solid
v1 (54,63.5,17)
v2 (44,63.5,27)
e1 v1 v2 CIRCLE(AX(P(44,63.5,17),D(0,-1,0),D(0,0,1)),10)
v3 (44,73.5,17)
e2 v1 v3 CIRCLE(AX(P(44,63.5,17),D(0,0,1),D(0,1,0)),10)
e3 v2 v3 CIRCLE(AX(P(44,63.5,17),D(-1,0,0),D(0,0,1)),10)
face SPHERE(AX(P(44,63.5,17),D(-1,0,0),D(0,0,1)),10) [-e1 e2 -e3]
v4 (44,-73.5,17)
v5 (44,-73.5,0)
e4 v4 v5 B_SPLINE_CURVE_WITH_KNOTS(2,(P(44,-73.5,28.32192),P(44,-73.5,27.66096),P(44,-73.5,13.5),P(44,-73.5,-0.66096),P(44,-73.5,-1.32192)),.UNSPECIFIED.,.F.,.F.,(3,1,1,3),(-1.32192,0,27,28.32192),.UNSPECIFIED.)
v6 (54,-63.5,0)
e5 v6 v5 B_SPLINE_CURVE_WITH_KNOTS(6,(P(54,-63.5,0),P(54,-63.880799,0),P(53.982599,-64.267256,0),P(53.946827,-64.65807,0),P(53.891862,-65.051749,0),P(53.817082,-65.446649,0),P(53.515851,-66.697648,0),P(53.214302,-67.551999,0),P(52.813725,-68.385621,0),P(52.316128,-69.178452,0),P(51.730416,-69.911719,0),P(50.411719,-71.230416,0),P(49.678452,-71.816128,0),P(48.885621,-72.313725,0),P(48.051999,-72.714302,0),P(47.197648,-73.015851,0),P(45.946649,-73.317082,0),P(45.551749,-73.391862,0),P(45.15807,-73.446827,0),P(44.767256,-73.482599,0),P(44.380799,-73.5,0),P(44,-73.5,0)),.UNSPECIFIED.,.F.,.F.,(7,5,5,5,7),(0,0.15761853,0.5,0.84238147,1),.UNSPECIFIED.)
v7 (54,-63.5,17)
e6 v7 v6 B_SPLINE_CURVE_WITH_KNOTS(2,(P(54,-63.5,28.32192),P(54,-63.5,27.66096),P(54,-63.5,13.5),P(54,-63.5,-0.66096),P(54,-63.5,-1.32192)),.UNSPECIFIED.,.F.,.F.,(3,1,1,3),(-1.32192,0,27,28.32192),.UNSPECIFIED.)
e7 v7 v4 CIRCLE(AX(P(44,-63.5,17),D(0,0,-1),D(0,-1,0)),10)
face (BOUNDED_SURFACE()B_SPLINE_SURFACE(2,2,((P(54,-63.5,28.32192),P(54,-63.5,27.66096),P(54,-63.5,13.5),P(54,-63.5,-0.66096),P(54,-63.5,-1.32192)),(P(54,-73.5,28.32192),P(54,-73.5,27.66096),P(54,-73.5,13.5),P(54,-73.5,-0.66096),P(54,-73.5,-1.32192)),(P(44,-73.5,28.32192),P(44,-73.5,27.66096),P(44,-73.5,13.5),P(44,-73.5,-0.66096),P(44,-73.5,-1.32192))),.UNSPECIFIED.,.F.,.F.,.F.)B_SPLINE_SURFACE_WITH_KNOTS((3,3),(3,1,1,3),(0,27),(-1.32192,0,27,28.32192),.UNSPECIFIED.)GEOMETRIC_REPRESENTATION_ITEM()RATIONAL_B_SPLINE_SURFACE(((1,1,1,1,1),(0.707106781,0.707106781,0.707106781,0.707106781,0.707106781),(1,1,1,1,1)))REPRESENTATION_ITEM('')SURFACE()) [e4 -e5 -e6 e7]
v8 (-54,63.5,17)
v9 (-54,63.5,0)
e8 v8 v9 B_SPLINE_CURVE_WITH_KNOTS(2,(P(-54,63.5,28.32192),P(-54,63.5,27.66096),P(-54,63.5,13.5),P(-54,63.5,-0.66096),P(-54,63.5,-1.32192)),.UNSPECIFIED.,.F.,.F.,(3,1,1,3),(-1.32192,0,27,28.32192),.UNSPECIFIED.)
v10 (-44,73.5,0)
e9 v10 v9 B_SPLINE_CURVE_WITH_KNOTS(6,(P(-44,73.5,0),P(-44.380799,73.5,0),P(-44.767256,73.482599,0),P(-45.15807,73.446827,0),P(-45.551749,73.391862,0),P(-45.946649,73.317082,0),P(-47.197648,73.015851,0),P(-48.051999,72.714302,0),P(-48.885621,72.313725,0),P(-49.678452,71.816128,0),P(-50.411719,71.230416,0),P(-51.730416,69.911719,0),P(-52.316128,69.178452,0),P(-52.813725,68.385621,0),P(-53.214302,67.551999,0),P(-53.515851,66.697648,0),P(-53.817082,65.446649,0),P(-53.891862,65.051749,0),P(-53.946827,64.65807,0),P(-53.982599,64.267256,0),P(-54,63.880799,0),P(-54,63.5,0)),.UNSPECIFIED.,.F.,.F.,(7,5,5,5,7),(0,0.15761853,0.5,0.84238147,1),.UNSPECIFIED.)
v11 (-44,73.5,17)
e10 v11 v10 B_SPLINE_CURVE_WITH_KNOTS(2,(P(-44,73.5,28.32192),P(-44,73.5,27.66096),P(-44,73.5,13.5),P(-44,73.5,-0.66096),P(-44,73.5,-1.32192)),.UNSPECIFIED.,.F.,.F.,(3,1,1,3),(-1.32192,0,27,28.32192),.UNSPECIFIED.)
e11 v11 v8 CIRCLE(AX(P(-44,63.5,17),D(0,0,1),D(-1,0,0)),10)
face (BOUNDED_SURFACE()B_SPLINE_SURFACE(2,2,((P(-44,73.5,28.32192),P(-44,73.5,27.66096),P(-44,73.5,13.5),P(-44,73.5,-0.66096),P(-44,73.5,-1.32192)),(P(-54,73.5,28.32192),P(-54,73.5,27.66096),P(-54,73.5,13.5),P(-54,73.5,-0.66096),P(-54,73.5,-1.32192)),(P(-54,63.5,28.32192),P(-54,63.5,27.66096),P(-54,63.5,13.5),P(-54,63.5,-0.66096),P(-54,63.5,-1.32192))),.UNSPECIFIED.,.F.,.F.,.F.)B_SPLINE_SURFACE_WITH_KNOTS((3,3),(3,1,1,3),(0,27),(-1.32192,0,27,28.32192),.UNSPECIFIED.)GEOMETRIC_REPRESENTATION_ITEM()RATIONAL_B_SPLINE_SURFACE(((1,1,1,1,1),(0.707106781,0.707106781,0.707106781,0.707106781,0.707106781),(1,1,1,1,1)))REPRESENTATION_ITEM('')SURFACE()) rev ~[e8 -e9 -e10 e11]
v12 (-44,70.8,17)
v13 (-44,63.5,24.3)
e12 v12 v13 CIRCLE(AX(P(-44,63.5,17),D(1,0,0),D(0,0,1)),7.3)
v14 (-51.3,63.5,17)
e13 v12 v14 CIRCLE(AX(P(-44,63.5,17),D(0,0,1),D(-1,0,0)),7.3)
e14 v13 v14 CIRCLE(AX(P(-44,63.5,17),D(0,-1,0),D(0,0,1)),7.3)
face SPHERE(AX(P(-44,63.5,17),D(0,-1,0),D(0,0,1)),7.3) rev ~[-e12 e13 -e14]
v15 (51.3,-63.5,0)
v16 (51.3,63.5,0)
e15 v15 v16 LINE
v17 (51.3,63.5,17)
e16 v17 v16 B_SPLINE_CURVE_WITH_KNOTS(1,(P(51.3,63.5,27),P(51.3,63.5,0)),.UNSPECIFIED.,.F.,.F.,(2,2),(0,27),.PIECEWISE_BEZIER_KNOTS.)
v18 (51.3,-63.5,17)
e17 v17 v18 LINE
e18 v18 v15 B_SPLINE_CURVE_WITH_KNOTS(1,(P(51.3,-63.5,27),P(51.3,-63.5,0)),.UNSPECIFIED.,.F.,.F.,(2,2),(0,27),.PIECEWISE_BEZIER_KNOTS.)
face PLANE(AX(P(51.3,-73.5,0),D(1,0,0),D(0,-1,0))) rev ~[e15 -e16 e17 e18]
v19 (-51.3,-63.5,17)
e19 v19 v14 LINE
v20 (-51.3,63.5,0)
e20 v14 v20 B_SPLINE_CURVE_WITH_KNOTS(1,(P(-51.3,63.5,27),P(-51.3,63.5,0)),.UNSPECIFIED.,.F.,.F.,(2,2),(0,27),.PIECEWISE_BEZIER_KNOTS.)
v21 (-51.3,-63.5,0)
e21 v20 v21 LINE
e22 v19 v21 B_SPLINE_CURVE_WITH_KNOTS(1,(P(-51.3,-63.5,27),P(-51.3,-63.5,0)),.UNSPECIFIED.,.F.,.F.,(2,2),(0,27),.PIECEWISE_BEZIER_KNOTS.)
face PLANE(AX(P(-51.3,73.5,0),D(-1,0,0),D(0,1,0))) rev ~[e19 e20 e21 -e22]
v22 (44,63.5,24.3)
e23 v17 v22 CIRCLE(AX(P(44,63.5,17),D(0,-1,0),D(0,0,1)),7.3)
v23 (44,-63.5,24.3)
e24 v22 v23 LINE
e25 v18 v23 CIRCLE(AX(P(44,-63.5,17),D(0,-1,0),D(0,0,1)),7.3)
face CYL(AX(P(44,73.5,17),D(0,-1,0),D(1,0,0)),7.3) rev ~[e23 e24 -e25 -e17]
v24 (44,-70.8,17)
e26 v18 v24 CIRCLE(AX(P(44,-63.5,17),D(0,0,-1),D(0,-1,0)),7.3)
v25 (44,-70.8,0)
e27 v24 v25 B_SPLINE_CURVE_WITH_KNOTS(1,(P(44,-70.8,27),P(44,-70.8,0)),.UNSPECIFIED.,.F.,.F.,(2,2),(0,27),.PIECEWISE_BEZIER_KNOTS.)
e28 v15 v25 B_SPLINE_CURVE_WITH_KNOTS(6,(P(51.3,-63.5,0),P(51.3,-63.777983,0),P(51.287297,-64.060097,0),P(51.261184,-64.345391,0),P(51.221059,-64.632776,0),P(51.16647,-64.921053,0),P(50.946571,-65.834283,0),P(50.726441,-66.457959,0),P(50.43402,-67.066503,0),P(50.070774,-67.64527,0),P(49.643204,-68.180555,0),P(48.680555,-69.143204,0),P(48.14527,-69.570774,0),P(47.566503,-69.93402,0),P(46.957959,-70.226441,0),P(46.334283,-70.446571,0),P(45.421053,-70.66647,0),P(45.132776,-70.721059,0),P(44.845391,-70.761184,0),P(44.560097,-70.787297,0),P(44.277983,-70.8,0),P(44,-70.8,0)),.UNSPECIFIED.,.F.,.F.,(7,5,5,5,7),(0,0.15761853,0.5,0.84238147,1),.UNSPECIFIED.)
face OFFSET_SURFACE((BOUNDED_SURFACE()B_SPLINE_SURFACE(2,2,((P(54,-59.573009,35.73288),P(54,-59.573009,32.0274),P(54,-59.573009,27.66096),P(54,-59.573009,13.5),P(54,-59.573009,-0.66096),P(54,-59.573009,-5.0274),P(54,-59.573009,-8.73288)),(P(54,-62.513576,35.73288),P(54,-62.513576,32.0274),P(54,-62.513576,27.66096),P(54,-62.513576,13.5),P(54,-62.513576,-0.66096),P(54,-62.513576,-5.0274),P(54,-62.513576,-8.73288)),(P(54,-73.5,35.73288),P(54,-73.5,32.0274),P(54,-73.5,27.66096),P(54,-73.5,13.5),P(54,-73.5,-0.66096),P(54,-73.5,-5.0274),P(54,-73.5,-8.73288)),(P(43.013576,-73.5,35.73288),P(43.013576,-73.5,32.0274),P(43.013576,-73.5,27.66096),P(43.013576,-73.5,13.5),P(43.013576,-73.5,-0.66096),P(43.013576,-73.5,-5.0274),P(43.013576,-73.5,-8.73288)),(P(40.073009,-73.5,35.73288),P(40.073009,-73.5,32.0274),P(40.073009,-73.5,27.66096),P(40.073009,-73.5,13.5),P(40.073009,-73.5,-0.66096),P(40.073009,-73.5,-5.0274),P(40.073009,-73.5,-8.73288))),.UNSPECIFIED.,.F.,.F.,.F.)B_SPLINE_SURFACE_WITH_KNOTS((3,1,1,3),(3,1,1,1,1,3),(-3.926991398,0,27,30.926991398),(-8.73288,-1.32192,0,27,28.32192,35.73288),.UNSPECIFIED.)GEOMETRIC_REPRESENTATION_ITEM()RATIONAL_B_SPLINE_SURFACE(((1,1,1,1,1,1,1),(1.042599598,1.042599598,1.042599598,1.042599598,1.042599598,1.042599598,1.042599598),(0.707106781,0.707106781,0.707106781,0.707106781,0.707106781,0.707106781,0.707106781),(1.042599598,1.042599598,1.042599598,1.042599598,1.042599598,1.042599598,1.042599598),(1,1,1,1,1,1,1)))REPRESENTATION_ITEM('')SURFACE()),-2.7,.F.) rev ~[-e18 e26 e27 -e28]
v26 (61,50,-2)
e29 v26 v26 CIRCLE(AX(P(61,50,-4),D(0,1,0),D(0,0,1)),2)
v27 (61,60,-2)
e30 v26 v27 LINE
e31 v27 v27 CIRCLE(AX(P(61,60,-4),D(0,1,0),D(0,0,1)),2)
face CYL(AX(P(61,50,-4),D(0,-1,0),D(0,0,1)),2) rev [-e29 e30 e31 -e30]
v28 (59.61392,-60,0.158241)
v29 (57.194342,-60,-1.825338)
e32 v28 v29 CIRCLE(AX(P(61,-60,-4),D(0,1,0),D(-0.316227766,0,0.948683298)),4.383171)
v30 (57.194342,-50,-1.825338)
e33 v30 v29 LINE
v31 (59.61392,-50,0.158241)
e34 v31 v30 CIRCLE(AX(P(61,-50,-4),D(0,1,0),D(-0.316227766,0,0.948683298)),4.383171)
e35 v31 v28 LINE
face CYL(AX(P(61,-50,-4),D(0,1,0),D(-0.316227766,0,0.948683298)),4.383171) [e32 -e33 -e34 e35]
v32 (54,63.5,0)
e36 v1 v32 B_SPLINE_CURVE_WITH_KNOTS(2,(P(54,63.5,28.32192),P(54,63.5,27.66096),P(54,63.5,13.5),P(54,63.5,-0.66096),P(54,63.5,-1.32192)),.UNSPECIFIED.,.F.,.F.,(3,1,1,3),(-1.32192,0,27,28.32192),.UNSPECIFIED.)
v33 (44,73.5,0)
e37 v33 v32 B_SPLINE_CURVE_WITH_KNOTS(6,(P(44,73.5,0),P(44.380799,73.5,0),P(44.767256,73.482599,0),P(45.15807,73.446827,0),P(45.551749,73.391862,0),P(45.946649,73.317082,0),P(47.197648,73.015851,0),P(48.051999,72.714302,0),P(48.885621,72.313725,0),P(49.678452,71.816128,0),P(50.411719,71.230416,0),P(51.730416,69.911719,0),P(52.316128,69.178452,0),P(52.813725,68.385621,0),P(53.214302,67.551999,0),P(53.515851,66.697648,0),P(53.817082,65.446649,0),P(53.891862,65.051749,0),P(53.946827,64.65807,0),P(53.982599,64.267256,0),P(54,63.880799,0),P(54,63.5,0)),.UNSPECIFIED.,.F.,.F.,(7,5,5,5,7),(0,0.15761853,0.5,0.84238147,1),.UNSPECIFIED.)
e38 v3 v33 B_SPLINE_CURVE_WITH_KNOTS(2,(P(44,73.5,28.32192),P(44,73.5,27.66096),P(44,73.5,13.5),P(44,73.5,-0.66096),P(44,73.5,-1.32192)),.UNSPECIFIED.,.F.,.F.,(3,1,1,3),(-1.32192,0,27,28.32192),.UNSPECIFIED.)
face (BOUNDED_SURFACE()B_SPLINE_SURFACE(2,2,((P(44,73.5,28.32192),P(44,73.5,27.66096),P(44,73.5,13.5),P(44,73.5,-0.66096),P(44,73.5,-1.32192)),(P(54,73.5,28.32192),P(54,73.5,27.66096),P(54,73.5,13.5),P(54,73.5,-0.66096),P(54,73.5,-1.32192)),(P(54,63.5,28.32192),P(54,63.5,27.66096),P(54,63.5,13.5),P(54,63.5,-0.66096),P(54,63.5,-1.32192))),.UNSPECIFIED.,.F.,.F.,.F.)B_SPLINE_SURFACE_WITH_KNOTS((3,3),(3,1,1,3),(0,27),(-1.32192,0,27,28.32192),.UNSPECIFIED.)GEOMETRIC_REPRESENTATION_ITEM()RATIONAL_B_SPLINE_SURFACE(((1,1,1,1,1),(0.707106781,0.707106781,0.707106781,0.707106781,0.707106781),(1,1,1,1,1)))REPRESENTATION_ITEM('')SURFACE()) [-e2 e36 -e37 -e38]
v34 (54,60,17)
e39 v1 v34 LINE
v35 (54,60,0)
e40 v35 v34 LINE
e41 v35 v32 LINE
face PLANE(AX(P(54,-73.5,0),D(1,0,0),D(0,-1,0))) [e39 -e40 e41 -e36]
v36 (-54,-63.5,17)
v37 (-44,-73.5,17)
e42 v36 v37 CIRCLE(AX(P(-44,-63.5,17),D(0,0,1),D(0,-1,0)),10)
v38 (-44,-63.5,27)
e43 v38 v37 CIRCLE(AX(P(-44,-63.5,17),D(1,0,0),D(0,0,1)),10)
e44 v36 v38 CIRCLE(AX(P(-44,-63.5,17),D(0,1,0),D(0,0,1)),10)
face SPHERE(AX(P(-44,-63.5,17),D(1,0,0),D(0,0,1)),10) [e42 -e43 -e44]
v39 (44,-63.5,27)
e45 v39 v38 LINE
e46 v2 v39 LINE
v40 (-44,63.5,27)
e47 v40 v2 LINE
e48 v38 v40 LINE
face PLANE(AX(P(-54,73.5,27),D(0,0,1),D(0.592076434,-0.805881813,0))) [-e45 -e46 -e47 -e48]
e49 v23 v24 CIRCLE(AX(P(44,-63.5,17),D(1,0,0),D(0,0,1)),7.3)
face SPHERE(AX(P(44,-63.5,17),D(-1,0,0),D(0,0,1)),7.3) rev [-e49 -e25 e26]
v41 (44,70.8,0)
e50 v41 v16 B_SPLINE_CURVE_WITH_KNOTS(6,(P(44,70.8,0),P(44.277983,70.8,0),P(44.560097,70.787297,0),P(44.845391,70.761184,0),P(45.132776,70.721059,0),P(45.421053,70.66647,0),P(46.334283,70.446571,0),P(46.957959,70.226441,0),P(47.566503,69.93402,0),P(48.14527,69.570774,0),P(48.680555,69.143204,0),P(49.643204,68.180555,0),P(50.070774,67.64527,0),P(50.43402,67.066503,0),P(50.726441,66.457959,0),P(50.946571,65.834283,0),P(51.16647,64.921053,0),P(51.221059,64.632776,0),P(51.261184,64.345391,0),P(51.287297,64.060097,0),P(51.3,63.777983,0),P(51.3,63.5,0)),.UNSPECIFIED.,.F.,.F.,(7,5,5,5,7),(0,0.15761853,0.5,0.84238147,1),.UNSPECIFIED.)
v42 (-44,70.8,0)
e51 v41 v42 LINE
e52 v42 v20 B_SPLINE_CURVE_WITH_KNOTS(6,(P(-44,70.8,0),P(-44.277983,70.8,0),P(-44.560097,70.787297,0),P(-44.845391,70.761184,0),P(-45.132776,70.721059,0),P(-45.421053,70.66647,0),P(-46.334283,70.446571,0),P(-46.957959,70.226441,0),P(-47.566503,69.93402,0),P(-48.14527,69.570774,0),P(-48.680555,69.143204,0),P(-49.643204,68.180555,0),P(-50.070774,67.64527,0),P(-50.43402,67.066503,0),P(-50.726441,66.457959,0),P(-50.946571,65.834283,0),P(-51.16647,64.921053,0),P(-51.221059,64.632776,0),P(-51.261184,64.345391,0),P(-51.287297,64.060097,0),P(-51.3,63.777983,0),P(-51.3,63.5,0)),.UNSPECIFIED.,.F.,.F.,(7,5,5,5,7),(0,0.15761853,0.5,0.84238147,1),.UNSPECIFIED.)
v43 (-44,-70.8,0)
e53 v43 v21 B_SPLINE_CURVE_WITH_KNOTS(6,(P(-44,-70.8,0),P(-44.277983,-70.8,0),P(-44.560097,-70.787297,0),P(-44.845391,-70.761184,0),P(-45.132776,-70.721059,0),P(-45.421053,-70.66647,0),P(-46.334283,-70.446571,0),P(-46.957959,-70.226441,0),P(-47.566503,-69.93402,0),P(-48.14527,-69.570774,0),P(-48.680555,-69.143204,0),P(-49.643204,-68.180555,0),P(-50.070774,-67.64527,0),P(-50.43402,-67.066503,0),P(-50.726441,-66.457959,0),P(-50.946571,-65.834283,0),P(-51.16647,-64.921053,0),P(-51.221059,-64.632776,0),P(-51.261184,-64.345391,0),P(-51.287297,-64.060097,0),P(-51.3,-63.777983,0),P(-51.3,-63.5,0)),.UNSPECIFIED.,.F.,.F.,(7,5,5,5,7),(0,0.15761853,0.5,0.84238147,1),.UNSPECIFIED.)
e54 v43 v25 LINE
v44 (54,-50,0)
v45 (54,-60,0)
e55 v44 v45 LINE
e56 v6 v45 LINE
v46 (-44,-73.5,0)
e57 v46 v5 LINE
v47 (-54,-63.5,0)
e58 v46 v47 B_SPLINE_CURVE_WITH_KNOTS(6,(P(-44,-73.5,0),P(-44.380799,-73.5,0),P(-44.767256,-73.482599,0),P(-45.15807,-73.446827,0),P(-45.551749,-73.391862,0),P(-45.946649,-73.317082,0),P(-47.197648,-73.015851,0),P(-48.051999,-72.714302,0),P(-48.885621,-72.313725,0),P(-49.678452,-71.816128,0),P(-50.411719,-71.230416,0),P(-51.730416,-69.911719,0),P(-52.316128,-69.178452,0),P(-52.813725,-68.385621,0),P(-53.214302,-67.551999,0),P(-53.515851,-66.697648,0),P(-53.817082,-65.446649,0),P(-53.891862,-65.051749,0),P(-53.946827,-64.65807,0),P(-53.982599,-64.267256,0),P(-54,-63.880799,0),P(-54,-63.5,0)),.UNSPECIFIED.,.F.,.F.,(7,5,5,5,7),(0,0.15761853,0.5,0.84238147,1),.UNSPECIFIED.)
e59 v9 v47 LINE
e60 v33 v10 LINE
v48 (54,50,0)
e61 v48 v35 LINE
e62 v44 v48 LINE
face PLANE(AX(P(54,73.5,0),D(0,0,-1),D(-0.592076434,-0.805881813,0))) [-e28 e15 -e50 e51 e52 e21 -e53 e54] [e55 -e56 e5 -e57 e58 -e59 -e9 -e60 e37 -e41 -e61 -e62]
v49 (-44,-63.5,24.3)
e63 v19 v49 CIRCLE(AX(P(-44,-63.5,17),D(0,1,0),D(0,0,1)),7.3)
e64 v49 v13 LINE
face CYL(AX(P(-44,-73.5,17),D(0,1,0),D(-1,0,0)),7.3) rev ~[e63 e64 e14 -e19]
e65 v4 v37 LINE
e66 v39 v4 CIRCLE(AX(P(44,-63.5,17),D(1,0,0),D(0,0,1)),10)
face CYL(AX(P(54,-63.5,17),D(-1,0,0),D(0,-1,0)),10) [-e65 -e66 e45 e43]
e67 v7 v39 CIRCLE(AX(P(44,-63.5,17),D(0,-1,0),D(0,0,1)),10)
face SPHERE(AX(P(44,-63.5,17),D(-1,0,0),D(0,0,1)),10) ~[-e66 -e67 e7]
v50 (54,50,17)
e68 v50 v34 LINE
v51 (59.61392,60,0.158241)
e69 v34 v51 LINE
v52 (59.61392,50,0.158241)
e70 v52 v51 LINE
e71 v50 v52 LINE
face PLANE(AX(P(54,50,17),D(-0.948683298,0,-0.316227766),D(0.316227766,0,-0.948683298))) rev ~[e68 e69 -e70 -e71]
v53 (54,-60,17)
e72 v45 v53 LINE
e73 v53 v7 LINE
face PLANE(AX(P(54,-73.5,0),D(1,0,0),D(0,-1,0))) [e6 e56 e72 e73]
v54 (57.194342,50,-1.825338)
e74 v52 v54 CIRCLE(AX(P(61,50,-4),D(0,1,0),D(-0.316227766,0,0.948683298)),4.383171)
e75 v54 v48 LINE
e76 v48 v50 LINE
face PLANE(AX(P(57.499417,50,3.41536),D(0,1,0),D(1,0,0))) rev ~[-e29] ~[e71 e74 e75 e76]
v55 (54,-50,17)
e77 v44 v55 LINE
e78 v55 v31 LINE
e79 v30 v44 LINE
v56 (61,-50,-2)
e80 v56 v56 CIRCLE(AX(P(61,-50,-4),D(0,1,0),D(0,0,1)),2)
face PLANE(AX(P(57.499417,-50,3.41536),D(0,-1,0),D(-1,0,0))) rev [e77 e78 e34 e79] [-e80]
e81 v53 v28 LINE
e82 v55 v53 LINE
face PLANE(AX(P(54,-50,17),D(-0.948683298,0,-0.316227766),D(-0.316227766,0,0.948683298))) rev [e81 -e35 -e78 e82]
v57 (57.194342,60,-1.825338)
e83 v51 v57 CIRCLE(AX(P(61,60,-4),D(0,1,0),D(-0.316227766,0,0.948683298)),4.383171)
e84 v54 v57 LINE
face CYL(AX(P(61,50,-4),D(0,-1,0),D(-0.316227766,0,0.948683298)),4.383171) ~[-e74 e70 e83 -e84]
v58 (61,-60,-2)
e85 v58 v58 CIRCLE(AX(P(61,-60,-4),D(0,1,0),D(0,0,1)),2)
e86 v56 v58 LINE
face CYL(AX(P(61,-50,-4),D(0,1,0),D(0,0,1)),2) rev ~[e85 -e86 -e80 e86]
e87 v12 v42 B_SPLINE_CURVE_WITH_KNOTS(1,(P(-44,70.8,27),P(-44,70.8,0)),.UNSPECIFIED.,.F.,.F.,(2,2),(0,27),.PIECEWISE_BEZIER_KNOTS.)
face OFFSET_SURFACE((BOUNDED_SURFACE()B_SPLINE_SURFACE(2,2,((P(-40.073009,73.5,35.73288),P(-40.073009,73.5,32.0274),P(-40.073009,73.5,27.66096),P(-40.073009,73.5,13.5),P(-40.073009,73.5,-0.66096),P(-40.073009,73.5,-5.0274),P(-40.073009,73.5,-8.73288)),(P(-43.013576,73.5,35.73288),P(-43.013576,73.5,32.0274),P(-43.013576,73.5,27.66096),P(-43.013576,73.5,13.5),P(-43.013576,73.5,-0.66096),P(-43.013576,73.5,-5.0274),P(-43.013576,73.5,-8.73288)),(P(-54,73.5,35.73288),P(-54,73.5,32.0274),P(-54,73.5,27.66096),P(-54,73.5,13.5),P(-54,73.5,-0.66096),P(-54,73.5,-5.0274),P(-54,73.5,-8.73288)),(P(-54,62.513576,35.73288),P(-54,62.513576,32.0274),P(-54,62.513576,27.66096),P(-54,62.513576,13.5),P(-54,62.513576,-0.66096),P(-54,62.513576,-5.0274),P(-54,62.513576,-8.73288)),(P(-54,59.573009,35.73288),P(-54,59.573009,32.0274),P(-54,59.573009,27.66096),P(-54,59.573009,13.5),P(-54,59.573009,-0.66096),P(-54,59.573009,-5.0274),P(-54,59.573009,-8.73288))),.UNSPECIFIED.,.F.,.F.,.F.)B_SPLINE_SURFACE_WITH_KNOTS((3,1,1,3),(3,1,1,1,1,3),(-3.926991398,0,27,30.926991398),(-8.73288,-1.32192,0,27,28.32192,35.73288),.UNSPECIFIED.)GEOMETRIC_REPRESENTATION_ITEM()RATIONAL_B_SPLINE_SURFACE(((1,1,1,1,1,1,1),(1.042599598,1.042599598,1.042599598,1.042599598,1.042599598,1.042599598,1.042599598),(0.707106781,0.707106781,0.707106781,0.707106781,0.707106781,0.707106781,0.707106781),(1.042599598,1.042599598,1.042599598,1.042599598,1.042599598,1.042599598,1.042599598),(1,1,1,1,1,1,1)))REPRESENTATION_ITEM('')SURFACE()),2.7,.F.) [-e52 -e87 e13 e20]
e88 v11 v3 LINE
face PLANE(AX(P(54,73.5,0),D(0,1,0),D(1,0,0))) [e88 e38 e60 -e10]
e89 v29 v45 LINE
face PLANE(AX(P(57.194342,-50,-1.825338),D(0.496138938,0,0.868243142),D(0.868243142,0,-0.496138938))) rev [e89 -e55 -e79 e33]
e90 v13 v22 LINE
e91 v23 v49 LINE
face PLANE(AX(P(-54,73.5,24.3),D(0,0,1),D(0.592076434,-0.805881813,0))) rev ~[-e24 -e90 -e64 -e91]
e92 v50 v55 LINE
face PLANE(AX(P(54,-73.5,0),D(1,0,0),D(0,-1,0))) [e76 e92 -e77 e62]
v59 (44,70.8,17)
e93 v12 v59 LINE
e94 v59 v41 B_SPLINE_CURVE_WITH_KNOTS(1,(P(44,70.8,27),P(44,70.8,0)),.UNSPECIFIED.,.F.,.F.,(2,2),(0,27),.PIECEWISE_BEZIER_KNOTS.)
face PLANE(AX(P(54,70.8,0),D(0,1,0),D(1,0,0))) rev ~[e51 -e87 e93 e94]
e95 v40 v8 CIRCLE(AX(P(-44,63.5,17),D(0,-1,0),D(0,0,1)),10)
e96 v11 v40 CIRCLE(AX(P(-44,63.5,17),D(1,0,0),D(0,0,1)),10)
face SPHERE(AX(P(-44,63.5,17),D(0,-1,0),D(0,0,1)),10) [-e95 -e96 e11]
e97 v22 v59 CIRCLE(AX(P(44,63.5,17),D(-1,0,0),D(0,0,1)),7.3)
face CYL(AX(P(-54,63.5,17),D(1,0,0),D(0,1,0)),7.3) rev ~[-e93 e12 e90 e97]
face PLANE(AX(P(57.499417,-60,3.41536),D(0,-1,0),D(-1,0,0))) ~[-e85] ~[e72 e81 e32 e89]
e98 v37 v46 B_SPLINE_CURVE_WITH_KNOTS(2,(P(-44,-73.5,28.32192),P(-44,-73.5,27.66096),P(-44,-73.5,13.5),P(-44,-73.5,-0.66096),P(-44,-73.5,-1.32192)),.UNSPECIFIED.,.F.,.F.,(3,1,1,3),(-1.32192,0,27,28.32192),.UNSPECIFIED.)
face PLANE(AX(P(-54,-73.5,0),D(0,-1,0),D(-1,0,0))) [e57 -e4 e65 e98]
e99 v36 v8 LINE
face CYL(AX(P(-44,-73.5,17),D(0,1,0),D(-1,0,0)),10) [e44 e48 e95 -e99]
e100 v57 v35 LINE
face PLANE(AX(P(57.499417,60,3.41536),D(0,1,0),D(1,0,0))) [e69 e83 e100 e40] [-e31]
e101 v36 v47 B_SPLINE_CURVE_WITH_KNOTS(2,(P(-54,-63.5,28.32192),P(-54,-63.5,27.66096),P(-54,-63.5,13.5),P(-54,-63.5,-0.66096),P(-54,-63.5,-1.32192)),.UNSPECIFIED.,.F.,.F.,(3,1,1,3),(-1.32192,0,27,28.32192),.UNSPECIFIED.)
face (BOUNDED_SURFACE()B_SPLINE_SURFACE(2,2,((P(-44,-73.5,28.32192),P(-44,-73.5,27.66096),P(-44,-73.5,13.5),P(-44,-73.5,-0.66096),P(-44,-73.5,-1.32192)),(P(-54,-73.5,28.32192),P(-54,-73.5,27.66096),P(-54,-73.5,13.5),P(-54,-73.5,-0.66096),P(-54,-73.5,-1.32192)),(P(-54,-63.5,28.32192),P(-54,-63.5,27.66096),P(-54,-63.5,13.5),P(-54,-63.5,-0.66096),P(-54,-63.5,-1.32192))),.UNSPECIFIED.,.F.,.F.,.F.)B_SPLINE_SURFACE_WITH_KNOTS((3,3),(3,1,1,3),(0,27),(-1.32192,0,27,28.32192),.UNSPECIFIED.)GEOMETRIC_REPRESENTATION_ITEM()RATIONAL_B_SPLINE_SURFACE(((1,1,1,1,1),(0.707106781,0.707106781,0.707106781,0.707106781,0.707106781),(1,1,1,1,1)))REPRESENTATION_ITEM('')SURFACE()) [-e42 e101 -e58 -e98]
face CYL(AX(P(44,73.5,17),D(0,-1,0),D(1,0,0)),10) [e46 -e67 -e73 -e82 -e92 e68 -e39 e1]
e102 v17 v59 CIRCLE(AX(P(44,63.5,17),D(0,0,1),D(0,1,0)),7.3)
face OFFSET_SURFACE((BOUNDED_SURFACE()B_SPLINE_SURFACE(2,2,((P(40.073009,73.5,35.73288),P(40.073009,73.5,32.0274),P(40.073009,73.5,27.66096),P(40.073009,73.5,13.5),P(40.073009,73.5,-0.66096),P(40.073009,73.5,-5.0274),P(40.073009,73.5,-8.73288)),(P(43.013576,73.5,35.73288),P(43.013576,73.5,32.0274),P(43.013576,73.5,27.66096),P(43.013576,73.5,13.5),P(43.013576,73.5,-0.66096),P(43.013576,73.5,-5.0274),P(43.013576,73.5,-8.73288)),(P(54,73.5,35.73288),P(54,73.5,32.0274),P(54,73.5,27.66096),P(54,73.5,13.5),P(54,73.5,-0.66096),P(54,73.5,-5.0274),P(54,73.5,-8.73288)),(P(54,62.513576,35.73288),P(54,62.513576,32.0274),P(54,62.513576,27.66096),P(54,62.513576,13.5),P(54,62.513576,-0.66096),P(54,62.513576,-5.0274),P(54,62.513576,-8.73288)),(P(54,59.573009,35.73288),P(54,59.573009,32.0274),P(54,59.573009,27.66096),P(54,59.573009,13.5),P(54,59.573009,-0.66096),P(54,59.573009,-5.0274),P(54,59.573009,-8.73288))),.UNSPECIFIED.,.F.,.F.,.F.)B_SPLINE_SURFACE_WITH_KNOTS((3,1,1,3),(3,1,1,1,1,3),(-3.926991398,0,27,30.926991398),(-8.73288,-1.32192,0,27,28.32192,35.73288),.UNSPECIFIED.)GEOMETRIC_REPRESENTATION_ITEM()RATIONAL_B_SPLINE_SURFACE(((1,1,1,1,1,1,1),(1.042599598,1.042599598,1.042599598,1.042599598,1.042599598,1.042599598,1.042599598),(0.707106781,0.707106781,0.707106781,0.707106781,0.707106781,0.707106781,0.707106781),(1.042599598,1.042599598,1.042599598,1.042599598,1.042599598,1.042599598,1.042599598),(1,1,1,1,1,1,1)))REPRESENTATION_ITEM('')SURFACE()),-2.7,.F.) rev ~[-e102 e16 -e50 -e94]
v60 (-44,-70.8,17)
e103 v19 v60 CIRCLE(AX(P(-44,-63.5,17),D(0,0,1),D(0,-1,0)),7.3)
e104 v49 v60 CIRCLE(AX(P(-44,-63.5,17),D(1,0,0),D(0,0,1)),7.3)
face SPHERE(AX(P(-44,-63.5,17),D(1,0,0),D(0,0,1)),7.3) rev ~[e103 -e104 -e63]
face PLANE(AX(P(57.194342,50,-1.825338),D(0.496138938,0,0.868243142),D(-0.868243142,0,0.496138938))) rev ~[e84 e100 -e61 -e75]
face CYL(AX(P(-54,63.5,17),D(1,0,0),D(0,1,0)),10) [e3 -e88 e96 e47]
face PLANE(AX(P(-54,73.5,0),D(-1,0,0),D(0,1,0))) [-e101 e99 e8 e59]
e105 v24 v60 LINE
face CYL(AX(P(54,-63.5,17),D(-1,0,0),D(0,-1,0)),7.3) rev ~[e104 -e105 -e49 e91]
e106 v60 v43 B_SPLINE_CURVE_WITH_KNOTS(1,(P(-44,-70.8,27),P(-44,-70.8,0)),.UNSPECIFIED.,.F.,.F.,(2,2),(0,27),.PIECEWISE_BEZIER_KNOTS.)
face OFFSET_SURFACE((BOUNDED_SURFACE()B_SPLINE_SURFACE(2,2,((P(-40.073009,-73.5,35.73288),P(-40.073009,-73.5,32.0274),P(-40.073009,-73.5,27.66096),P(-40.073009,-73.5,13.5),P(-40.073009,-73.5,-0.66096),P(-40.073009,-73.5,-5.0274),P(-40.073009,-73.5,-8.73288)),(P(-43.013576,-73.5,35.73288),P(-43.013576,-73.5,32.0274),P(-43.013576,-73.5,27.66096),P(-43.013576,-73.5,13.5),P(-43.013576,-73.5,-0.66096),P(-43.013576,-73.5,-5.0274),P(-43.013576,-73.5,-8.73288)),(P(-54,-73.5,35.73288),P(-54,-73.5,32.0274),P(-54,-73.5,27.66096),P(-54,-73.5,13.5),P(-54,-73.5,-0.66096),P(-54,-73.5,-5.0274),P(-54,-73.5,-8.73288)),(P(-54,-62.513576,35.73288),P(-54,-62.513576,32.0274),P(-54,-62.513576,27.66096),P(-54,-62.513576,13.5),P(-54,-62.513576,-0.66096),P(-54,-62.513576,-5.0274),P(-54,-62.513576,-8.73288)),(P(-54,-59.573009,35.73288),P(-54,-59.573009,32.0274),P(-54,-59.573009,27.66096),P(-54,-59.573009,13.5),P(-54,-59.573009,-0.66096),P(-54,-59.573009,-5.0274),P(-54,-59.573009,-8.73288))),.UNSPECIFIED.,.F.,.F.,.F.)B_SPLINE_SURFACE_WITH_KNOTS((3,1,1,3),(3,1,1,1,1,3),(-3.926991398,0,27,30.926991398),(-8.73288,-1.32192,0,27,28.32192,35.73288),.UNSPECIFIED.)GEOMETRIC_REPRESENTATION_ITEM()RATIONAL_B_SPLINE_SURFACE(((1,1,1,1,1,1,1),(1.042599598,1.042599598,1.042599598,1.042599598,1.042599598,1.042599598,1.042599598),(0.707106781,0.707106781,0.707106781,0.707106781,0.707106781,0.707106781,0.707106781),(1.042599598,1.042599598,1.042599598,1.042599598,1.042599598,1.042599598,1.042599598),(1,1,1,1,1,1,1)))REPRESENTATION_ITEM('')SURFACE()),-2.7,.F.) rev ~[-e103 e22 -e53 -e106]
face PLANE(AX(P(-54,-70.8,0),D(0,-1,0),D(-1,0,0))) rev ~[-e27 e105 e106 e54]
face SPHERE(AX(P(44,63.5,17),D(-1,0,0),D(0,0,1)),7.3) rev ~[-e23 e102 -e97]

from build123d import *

# Parameters (mm, degrees)
FILLET1_R           = 10
SHELL1_T            = -2.7
SKETCH4_R           = 2
BOSS_EXTRUDE1_DEPTH = 10


with BuildPart() as part:
    # Sketch2 → Loft1 section 0
    with BuildSketch(Plane.XY.offset(27)):
        with BuildLine():
            Line((-54, 73.5), (54, 73.5))
            Line((54, 73.5), (54, -73.5))
            Line((54, -73.5), (-54, -73.5))
            Line((-54, -73.5), (-54, 73.5))
        make_face()
    # Sketch1 → Loft1 section 1
    with BuildSketch(Plane.XY):
        with BuildLine():
            Line((54, 73.5), (-54, 73.5))
            Line((-54, 73.5), (-54, -73.5))
            Line((-54, -73.5), (54, -73.5))
            Line((54, -73.5), (54, 73.5))
        make_face()
    loft()

    # Fillet1
    fillet1_edges = [part.edges().sort_by_distance(p)[0] for p in [
        (0, -73.5, 27),
        (-54, 0, 27),
        (0, 73.5, 27),
        (54, 0, 27),
        (54, 73.5, 13.5),
        (-54, 73.5, 13.5),
        (-54, -73.5, 13.5),
        (54, -73.5, 13.5),
    ]]
    fillet(fillet1_edges, radius=FILLET1_R)

    # Shell1
    shell1_openings = [part.faces().sort_by_distance(p)[0] for p in [
        (9.6e-08, -7.1e-08, 0),
    ]]
    offset(amount=SHELL1_T, openings=shell1_openings)

    # Sketch4 → Boss-Extrude1 (add)
    with BuildSketch(Plane(origin=(0, 50, 0), x_dir=(1, 0, 0), z_dir=(0, 1, 0))):
        with BuildLine():
            Line((57.194341554, 1.825338031), (54, 0))
            Line((54, 0), (54, -17))
            Line((54, -17), (59.613919523, -0.158241431))
            ThreePointArc((59.613919523, -0.158241431), (63.778881993, 7.3896911), (57.194341554, 1.825338031))
        make_face()
        with Locations(Location((61, 4, 0), (0, 0, 270))):
            Circle(SKETCH4_R, mode=Mode.SUBTRACT)
    boss_extrude1 = extrude(amount=BOSS_EXTRUDE1_DEPTH)

    # Mirror1: Boss-Extrude1 across plane
    add(boss_extrude1.mirror(Plane.ZX))


solid = part.part
